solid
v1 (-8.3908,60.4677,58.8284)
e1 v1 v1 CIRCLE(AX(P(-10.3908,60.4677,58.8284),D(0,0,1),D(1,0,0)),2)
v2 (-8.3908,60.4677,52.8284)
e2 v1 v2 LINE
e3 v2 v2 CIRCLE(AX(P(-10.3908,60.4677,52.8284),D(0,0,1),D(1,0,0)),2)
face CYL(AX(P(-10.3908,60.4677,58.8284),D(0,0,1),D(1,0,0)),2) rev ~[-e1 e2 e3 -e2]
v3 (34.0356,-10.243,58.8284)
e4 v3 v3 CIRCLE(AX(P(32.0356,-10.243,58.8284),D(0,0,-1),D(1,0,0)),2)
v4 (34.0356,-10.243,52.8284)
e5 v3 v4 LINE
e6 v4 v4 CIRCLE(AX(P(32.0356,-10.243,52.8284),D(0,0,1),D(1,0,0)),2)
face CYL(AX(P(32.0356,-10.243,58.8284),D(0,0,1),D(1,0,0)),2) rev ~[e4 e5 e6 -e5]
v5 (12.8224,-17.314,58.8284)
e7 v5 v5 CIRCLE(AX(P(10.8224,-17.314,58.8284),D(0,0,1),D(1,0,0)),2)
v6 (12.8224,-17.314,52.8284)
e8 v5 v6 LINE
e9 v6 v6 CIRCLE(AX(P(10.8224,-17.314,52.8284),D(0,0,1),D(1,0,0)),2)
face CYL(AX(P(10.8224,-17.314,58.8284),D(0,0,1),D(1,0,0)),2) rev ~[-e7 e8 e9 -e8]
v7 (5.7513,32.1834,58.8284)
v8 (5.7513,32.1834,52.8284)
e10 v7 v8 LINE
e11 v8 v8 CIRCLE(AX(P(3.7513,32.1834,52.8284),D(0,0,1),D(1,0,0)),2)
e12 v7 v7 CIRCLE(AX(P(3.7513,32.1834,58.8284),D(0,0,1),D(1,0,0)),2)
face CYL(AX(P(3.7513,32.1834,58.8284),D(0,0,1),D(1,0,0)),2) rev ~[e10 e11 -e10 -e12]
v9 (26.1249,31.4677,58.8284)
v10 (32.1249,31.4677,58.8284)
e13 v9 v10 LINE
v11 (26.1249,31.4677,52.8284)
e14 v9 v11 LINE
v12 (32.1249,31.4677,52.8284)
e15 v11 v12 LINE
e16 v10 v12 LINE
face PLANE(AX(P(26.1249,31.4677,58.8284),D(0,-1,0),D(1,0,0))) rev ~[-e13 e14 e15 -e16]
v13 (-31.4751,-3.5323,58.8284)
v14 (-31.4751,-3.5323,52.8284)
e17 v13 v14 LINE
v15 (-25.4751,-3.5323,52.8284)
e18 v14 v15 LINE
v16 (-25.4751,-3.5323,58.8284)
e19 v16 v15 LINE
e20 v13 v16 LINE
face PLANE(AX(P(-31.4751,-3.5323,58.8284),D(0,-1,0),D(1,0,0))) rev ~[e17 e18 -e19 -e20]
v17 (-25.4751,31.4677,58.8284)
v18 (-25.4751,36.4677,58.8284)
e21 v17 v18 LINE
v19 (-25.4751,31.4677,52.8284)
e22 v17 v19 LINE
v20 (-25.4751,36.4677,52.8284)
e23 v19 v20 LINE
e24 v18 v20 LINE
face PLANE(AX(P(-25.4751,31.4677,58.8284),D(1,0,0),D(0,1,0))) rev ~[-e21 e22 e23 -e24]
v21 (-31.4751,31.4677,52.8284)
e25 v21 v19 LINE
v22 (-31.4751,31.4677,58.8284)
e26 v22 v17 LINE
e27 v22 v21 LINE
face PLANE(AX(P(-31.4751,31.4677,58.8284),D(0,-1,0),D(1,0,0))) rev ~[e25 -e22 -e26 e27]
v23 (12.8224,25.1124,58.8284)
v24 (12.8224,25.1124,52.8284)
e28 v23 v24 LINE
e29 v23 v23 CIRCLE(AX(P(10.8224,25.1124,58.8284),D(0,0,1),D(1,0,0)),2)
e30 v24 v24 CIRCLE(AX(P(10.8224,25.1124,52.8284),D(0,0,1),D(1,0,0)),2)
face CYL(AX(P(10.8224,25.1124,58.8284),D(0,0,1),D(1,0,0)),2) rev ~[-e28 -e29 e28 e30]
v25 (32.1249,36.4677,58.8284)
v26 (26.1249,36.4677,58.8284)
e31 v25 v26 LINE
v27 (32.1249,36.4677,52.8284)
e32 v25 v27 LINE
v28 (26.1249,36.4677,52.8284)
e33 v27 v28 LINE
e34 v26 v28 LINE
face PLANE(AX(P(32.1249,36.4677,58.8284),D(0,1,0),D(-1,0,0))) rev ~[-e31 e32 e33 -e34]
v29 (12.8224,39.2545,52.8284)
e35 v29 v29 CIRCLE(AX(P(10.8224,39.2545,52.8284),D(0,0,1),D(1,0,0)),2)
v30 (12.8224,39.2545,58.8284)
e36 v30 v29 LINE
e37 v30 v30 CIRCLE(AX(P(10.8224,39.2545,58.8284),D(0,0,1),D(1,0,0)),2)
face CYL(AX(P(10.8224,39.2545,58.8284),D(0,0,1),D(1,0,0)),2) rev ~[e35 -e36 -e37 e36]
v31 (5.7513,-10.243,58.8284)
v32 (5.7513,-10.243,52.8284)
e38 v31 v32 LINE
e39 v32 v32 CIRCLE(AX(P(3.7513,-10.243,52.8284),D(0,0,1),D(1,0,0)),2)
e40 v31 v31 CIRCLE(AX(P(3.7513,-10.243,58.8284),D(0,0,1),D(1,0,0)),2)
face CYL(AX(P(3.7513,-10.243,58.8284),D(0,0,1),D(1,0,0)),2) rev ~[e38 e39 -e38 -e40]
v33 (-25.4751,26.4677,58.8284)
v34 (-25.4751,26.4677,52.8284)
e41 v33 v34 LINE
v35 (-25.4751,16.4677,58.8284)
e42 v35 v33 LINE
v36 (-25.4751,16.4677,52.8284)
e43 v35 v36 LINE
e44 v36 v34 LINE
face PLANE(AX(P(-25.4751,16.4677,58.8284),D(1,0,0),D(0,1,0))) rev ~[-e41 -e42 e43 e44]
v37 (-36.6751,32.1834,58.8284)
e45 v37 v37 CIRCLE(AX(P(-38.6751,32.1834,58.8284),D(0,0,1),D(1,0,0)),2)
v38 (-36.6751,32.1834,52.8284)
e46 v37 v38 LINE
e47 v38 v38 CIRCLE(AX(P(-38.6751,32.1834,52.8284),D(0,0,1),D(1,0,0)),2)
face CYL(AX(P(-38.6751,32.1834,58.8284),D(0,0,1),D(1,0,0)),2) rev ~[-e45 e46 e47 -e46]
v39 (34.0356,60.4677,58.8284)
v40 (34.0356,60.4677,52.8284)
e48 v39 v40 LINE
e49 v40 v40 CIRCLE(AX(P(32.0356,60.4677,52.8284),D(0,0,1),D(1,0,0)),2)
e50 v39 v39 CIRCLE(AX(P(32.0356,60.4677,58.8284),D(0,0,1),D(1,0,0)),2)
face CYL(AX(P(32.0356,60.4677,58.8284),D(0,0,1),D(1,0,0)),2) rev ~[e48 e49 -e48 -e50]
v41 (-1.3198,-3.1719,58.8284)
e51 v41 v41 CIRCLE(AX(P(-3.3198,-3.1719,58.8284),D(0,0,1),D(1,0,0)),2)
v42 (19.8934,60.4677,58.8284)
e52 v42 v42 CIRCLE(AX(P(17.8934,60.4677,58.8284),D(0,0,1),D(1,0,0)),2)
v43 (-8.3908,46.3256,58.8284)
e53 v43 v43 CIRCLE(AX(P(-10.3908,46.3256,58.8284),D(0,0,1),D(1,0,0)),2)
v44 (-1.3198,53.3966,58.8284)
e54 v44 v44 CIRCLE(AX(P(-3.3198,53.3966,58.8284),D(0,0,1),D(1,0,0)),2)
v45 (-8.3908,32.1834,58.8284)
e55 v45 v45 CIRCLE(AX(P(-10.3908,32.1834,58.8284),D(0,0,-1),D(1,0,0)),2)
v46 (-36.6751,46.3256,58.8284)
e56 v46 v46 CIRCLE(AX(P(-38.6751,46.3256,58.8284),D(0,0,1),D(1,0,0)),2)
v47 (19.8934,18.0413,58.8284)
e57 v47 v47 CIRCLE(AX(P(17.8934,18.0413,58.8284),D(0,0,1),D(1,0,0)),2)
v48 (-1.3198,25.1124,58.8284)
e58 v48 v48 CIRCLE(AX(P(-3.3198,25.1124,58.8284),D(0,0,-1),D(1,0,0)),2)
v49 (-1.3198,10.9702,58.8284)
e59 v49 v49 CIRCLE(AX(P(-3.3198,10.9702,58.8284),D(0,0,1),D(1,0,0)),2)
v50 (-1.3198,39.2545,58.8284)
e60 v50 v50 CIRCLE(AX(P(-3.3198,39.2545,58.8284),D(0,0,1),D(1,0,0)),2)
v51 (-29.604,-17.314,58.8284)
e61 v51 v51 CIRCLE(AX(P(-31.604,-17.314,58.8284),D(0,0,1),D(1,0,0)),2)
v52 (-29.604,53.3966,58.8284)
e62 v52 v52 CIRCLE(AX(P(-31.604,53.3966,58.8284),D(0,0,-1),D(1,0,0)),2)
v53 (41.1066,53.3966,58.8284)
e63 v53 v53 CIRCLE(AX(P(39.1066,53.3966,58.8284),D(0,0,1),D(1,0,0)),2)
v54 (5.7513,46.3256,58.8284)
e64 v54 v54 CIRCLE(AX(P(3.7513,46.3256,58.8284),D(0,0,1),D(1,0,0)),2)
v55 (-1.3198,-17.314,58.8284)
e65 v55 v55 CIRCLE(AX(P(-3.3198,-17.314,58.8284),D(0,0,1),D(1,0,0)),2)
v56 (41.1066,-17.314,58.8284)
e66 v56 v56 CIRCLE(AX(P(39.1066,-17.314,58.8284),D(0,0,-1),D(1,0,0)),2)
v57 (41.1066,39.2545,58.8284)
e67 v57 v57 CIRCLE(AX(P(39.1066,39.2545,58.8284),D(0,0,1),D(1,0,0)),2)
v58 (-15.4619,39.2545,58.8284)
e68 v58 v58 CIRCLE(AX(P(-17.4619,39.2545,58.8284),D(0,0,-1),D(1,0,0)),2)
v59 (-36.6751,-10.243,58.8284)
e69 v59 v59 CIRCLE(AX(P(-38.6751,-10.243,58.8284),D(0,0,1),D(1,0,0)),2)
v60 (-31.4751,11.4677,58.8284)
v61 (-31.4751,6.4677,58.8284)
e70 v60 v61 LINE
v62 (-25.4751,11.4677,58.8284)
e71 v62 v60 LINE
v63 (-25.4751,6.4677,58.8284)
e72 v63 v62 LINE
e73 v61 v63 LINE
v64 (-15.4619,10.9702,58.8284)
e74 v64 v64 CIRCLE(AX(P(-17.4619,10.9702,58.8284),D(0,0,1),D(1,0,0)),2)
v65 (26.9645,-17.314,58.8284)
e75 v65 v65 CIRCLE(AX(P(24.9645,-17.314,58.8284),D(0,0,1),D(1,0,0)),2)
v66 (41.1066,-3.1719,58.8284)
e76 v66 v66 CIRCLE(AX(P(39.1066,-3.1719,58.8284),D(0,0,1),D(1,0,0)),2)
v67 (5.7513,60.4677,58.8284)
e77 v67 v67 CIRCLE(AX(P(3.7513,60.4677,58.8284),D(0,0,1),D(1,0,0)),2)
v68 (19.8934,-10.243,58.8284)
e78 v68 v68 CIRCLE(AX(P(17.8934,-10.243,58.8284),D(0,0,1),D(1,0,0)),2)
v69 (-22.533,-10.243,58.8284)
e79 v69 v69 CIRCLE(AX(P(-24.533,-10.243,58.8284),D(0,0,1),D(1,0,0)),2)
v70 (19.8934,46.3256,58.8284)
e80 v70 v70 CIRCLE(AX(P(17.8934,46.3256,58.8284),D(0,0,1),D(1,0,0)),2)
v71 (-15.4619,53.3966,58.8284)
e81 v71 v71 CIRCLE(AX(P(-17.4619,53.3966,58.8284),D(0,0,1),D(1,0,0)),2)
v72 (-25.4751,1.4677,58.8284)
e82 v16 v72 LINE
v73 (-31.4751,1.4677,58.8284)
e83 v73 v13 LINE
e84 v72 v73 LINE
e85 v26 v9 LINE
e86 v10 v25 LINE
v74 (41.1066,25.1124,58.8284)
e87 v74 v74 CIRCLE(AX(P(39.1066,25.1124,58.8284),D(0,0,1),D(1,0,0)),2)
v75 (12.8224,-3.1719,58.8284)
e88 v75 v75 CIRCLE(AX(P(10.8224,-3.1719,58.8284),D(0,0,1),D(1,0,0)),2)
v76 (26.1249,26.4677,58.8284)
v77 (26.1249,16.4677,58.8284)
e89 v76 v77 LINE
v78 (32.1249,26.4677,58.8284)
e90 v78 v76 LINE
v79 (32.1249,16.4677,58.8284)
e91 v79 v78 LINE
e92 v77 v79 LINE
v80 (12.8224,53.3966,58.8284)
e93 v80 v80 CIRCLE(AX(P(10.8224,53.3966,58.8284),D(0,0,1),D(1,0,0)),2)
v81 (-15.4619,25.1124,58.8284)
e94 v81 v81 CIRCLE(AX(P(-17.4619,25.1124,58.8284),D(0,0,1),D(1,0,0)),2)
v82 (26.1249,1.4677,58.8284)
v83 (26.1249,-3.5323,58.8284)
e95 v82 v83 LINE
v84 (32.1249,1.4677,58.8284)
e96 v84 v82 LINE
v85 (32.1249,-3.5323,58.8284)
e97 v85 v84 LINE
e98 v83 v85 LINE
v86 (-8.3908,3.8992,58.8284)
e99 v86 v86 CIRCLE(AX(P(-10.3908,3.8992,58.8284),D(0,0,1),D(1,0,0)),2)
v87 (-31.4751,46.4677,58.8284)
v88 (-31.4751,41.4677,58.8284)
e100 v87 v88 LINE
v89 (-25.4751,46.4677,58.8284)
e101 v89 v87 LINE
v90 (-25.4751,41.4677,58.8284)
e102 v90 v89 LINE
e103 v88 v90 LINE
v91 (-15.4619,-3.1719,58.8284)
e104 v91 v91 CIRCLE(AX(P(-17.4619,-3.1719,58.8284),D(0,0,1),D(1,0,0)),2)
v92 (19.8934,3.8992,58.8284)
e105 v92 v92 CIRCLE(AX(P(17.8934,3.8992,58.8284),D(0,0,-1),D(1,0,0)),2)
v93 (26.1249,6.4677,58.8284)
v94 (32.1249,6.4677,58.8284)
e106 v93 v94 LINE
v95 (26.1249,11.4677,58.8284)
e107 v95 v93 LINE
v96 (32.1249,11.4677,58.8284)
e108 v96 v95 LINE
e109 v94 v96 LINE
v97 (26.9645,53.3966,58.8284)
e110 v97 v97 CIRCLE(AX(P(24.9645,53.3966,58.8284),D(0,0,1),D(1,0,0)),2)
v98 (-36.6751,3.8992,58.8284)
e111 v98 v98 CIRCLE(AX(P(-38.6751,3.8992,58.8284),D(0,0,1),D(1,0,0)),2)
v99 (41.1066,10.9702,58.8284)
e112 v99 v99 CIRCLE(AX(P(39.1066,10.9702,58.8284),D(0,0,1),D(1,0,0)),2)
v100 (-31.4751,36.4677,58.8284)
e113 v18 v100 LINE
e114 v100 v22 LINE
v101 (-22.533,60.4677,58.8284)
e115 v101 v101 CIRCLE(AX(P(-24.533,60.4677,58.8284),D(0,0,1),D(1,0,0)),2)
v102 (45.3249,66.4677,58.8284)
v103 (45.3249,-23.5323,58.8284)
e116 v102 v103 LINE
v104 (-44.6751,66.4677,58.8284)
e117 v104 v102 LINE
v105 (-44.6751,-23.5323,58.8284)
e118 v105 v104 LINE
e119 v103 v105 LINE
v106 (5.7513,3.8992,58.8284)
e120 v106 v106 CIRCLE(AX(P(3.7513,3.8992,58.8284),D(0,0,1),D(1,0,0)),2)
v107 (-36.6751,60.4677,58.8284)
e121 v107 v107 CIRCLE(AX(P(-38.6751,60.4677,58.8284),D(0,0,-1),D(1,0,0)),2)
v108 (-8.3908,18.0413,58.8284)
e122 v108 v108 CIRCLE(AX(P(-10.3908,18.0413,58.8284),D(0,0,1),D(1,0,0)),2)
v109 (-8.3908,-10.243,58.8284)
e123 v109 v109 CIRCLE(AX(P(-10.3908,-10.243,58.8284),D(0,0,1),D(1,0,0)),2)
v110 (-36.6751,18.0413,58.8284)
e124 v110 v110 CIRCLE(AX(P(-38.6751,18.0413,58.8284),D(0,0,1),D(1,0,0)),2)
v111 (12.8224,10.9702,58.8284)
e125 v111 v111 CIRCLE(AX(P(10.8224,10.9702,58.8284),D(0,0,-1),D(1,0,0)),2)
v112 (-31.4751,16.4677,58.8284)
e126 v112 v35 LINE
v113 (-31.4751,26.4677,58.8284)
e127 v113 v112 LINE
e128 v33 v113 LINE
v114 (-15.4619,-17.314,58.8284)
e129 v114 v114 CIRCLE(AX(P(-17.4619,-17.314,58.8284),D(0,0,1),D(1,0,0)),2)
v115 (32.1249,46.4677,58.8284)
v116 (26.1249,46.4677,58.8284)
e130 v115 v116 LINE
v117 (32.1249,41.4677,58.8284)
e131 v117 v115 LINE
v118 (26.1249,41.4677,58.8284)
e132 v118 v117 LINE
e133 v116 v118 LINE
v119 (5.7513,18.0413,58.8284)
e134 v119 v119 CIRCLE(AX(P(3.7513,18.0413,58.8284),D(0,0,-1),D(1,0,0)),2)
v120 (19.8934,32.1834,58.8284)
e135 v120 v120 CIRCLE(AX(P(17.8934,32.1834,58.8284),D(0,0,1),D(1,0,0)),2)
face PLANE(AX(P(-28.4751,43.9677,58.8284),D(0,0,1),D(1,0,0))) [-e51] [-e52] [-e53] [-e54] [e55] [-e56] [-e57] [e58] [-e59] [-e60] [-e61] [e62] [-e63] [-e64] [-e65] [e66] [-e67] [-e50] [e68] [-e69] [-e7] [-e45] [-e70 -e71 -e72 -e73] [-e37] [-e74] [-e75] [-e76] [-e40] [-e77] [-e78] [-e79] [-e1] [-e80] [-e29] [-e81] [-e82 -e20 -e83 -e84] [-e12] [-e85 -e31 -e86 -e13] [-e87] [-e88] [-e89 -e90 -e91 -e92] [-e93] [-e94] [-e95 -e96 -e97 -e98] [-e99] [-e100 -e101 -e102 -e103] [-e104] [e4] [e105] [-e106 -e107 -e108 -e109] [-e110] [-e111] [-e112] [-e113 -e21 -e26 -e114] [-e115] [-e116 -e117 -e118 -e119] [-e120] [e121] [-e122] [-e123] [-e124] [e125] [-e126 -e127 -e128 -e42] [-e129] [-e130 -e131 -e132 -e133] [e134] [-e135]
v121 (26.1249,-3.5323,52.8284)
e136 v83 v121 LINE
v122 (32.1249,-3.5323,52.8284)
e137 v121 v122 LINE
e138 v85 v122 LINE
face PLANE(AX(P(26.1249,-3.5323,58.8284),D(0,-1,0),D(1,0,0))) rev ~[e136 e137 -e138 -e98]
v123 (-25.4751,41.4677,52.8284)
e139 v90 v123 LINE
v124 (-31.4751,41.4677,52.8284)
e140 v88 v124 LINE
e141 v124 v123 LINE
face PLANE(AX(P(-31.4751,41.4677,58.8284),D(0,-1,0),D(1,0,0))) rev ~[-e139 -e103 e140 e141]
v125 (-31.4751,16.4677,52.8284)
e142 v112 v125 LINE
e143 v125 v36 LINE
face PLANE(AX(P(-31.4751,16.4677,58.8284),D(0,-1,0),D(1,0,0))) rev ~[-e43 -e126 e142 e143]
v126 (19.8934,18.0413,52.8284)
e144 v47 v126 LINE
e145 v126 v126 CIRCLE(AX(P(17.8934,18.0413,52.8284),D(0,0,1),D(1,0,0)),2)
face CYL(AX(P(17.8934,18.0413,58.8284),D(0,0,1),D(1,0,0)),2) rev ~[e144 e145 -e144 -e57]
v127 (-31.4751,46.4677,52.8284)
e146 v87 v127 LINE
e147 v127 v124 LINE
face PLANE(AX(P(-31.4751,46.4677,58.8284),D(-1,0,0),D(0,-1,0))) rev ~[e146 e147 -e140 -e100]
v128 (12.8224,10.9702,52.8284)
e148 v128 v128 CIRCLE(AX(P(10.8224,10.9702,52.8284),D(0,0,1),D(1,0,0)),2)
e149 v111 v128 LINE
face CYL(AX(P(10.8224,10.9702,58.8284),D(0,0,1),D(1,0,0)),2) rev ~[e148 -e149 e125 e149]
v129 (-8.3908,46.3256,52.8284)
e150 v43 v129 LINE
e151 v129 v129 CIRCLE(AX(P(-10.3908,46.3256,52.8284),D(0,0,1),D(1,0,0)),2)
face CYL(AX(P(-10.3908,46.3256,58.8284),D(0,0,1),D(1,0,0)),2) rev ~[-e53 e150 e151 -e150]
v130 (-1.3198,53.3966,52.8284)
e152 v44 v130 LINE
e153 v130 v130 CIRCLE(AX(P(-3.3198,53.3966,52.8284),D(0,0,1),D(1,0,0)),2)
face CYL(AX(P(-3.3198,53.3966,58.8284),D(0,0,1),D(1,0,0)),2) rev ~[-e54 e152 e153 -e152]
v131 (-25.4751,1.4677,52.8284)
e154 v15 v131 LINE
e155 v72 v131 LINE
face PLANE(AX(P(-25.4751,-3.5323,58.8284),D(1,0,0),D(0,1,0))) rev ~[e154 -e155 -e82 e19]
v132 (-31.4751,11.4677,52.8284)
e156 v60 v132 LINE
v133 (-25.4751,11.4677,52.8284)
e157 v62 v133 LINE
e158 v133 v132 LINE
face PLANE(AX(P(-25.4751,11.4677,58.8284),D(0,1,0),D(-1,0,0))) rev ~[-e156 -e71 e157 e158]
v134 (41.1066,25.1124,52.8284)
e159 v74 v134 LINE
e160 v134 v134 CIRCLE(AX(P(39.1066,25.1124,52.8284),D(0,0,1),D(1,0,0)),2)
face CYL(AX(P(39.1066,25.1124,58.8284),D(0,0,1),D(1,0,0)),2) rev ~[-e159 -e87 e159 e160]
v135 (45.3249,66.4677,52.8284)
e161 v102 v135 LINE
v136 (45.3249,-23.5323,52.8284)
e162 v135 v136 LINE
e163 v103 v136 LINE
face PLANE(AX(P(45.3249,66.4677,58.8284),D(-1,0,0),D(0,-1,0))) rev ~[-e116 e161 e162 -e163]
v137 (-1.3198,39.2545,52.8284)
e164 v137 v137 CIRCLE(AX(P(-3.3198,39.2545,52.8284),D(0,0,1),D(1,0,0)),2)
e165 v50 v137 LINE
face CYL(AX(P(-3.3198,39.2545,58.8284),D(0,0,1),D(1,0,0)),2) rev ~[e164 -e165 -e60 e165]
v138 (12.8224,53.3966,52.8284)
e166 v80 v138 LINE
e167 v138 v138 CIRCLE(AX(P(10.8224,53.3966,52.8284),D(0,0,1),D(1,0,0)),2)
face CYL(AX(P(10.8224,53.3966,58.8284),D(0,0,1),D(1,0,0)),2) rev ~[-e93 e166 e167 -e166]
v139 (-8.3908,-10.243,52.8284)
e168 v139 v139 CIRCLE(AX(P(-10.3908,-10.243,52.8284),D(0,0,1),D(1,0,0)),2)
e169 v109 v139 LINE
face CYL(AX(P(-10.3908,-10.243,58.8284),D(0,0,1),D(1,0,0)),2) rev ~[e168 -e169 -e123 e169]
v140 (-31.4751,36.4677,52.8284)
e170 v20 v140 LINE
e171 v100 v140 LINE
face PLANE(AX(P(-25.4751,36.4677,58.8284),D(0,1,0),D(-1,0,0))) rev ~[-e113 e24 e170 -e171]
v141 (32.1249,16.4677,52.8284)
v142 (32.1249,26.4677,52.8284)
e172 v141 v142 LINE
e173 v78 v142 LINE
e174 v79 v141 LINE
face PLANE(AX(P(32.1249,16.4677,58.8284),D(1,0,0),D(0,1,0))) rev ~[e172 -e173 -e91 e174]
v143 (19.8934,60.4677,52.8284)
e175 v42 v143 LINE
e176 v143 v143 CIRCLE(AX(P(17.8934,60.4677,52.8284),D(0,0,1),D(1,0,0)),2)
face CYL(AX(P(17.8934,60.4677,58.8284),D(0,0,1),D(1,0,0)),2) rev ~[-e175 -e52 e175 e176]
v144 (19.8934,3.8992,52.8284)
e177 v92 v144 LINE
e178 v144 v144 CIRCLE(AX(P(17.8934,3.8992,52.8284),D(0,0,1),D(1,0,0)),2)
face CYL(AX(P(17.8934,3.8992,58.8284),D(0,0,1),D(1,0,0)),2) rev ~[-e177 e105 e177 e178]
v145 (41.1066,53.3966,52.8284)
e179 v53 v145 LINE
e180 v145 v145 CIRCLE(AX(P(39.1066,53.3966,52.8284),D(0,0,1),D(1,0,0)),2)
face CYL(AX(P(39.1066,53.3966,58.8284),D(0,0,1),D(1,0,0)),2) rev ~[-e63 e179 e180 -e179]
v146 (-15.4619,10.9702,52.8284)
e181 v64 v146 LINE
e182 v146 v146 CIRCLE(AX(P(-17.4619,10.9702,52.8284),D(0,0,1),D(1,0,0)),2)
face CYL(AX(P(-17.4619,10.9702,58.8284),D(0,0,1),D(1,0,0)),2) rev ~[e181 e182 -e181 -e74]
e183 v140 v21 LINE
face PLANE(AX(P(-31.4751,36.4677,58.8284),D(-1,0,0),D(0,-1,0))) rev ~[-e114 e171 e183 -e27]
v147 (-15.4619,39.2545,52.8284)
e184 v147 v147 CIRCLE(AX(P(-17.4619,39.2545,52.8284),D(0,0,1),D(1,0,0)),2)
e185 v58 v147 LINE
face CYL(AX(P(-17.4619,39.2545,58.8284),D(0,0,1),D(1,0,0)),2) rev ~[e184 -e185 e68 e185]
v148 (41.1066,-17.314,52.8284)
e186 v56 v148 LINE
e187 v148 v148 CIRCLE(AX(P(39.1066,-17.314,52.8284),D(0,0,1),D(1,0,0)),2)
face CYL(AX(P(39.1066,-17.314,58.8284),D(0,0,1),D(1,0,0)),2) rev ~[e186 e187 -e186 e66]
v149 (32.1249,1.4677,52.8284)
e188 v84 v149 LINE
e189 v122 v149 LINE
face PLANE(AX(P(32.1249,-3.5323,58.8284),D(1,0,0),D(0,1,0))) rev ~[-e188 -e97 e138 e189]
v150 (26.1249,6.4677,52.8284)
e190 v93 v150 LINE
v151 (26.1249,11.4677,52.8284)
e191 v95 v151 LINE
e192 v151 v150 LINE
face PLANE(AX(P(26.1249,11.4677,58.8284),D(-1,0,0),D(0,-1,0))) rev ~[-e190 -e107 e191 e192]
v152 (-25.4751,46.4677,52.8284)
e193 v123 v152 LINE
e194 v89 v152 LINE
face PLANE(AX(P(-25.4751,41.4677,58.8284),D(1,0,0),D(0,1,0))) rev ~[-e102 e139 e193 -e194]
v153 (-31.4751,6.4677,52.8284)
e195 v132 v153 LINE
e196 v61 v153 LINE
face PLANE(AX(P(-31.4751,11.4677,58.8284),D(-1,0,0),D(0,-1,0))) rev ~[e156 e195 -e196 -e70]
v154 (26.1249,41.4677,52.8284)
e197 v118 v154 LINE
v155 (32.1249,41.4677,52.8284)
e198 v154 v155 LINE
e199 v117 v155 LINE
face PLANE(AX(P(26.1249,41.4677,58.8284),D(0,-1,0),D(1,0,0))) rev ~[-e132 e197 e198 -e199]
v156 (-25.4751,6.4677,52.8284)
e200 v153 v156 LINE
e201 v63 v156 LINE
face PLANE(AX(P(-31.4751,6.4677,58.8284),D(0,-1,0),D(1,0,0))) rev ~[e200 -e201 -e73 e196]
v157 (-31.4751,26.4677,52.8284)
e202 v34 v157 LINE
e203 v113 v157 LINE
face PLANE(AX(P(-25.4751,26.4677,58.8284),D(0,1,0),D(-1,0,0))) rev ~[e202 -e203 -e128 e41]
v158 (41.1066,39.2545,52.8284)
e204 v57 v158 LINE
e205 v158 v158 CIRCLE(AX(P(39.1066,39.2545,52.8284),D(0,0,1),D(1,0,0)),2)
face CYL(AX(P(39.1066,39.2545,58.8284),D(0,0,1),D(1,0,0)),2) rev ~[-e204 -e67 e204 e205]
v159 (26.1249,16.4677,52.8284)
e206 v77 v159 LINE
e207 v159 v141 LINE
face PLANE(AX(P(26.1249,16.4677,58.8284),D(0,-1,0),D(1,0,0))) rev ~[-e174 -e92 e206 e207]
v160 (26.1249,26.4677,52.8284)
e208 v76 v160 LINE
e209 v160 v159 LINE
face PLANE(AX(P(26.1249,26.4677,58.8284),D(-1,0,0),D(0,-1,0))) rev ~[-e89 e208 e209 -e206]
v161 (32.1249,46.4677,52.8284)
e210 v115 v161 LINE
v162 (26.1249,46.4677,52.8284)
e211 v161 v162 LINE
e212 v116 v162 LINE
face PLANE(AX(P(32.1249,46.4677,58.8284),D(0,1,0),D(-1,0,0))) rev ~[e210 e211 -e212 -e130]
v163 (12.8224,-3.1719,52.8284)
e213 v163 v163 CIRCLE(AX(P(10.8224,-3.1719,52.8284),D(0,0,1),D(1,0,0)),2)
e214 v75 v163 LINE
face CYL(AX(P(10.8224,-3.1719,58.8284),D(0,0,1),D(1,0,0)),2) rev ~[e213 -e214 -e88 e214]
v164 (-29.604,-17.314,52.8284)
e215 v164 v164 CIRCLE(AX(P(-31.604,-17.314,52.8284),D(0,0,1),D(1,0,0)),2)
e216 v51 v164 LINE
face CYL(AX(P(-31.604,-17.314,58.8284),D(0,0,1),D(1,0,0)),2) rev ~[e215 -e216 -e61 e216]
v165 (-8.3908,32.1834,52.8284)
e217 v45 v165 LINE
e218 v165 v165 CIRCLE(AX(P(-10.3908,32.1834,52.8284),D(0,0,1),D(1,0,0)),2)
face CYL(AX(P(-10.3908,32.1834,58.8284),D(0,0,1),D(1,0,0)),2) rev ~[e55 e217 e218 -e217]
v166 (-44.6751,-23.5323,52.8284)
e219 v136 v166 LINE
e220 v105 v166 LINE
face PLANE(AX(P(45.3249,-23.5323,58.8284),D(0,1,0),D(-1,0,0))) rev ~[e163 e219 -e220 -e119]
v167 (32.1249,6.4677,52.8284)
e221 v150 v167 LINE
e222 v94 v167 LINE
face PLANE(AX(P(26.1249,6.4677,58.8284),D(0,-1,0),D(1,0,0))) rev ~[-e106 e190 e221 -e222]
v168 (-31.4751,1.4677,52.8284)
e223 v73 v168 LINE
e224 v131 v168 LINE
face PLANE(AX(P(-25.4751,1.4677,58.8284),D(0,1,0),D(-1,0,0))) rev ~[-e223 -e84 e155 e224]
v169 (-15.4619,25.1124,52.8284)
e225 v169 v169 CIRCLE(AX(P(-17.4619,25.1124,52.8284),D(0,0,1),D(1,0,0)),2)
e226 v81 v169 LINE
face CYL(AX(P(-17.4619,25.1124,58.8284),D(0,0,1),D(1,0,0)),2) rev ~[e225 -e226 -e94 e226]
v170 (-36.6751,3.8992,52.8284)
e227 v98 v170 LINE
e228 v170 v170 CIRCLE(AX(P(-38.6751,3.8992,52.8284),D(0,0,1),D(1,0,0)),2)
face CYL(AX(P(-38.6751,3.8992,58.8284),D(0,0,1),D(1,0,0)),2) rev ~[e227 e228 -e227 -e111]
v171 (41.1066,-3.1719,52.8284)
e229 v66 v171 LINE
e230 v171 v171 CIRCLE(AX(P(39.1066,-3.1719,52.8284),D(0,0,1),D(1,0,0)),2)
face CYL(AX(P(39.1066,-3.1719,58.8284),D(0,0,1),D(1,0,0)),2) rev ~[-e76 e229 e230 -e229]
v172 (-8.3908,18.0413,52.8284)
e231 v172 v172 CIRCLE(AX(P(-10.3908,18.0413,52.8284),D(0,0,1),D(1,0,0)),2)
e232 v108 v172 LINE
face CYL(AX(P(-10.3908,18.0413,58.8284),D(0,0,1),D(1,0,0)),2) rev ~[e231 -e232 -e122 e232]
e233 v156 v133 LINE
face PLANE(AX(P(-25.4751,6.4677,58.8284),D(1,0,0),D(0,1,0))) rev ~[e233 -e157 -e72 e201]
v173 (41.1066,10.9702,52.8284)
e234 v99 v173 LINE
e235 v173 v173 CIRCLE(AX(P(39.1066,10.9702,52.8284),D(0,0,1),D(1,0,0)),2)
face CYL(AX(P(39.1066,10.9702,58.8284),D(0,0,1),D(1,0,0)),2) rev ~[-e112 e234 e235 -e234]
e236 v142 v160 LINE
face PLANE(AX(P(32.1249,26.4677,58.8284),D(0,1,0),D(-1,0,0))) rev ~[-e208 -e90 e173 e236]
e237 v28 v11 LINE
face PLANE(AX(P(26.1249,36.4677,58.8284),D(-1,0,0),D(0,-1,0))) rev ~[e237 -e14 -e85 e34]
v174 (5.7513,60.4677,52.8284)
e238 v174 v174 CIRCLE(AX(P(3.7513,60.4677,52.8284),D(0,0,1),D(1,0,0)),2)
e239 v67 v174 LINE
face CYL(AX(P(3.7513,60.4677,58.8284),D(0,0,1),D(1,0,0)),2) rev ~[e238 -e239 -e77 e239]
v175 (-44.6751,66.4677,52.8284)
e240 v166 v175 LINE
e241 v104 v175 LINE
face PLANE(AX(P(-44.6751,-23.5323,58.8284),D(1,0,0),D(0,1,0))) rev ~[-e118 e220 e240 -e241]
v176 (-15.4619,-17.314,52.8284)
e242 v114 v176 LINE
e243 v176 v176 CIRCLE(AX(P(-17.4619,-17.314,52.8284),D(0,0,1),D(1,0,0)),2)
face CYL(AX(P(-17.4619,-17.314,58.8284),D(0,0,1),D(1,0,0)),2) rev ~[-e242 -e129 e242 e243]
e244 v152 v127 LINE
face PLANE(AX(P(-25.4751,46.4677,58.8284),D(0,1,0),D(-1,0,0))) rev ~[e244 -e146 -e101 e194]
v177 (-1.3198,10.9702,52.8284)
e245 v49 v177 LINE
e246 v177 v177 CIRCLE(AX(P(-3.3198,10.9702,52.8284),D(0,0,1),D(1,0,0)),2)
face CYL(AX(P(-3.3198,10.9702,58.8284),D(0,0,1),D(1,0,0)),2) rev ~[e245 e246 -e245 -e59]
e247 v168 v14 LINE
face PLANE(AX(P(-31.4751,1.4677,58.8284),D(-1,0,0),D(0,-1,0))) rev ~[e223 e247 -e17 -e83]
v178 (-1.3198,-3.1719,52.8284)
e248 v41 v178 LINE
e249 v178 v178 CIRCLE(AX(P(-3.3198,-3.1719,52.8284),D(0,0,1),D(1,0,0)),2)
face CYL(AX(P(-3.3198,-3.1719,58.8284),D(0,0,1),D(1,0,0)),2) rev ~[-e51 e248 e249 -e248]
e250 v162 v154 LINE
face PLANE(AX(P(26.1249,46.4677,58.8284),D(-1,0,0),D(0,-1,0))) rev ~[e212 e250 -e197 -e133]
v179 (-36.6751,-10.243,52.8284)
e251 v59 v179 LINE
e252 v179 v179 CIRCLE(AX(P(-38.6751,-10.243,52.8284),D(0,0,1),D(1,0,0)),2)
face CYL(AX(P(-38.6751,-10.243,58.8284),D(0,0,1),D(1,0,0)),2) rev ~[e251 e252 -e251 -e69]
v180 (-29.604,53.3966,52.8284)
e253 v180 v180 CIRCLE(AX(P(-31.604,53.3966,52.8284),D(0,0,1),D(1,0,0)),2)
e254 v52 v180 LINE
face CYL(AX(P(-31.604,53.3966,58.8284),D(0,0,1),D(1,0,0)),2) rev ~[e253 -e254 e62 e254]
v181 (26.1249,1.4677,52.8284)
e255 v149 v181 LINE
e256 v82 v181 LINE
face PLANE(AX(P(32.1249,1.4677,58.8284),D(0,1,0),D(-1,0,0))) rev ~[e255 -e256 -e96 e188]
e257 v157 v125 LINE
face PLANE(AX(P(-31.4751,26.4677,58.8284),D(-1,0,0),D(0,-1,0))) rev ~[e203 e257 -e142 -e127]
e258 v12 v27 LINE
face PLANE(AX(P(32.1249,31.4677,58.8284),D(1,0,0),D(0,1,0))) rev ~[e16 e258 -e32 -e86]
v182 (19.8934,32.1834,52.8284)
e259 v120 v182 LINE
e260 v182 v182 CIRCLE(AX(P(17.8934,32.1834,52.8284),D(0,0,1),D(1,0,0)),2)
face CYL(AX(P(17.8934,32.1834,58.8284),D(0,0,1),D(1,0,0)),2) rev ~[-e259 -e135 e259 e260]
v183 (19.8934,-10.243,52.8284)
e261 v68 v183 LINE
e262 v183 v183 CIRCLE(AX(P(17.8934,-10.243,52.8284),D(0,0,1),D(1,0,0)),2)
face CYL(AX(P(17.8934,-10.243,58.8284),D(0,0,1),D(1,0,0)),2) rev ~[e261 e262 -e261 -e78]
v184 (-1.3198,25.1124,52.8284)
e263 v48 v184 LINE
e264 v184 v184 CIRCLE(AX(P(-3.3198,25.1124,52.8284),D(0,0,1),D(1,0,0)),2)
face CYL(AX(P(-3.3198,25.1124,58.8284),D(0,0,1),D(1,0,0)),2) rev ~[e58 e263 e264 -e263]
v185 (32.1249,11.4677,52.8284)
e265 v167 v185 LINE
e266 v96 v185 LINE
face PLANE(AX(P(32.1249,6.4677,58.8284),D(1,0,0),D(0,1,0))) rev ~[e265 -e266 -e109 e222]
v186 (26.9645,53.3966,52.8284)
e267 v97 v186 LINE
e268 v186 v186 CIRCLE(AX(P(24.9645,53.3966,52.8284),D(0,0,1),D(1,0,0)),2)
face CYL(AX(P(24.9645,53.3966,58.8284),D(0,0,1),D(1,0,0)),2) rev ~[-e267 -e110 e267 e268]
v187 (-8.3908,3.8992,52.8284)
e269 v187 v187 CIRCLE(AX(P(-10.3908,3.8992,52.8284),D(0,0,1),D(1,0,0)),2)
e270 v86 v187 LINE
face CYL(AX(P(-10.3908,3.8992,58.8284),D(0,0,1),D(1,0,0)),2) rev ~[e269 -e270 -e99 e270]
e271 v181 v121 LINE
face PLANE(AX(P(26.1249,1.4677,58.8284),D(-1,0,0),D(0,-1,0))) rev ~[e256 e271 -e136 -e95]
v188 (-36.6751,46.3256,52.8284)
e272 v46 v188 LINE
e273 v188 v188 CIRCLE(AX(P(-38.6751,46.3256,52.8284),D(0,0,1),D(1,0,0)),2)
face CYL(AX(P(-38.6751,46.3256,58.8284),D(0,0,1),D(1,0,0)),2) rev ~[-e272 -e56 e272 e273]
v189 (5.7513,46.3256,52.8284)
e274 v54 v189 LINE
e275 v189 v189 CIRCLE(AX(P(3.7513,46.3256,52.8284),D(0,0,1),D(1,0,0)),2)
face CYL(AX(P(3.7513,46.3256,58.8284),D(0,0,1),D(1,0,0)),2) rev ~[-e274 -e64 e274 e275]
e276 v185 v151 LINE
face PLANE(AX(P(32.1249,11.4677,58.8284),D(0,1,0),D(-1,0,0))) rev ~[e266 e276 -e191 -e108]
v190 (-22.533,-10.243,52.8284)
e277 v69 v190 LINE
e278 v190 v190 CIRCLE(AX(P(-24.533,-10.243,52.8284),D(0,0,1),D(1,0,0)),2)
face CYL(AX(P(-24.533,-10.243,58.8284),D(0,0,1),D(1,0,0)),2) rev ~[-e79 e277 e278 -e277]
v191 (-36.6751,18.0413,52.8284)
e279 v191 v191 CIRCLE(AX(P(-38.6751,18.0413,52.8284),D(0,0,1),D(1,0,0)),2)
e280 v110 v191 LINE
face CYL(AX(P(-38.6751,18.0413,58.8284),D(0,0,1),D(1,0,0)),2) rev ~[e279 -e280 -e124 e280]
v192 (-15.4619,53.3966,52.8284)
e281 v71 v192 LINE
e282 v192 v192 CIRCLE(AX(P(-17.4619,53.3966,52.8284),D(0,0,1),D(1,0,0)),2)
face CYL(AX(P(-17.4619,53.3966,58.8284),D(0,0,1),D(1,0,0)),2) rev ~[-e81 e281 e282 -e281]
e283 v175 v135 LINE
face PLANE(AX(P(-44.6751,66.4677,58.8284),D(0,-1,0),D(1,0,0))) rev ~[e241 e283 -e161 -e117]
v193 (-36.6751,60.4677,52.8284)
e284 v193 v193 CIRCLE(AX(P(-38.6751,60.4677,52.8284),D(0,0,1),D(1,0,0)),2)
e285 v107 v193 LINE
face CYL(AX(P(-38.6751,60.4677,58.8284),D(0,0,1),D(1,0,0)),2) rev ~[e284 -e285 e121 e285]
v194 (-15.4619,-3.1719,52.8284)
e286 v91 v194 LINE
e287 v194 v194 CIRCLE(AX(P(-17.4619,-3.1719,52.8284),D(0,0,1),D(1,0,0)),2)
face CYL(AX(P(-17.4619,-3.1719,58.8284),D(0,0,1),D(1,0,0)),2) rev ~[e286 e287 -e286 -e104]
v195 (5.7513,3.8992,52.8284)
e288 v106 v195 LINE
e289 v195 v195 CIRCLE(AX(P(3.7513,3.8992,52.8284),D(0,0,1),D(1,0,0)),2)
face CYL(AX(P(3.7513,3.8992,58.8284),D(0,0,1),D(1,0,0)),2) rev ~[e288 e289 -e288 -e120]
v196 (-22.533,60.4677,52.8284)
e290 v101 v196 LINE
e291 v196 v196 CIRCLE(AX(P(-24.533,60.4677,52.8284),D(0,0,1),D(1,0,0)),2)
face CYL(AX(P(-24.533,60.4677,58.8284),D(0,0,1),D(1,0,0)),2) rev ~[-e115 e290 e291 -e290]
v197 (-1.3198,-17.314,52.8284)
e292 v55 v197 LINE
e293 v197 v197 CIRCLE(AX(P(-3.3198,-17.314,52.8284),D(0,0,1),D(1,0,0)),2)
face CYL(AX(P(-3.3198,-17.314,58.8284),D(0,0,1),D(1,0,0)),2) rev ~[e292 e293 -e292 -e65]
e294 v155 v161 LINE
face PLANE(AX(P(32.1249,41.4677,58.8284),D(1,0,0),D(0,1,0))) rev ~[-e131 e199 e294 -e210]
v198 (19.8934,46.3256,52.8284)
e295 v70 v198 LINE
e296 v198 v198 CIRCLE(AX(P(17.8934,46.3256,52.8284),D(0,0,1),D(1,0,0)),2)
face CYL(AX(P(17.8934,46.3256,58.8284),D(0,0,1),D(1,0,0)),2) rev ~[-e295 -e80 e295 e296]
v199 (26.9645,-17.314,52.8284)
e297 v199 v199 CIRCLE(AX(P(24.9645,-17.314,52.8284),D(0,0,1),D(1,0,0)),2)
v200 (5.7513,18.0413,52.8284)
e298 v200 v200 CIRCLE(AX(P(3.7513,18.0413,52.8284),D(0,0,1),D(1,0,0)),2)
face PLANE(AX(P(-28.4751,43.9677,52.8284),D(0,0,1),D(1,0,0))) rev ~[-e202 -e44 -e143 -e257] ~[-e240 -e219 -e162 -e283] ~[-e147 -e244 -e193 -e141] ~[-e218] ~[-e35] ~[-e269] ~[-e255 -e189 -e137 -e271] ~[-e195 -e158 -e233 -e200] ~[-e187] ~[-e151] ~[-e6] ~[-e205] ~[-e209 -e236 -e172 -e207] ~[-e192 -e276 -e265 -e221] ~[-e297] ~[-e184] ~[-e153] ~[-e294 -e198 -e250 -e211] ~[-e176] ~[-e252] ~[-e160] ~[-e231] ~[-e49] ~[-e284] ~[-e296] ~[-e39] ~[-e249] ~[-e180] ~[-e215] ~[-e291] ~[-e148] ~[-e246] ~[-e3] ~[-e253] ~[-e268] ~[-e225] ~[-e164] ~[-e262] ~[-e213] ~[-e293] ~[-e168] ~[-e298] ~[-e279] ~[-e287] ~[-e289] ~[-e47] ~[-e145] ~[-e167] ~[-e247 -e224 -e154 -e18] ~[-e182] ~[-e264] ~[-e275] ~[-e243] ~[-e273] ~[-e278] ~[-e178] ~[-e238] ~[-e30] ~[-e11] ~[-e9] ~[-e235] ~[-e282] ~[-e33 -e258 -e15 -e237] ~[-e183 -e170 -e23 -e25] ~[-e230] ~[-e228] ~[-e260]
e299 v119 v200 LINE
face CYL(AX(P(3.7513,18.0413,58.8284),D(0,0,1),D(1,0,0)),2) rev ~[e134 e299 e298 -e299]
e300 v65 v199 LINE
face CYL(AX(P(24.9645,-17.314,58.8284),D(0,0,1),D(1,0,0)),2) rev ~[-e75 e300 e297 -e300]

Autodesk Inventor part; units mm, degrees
ref_plane "YZ Plane" through (0, 0, 0) normal (1, 0, 0) x (0, 1, 0)
ref_plane "XZ Plane" through (0, 0, 0) normal (0, 1, 0) x (-1, 0, 0)
ref_plane "XY Plane" through (0, 0, 0) normal (0, 0, 1) x (1, 0, 0)
ref_plane "Work Plane1" through (-28.4751, 43.9677, 58.8284) normal (0, 0, 1) x (1, 0, 0)
sketch "Sketch1" plane through (-28.4751, 43.9677, 58.8284) normal (0, 0, 1) x (1, 0, 0)
  line L0 (-16.2, 22.5) -> (73.8, 22.5)
  line L1 (73.8, 22.5) -> (73.8, -67.5)
  line L2 (73.8, -67.5) -> (-16.2, -67.5)
  line L3 (-16.2, -67.5) -> (-16.2, 22.5)
  line L4 (-3, -2.5) -> (3, -2.5) projected
  line L5 (3, -2.5) -> (3, 2.5) projected
  line L6 (3, 2.5) -> (-3, 2.5) projected
  line L7 (-3, 2.5) -> (-3, -2.5) projected
  line L8 (-3, -12.5) -> (3, -12.5) projected
  line L9 (3, -12.5) -> (3, -7.5) projected
  line L10 (3, -7.5) -> (-3, -7.5) projected
  line L11 (-3, -7.5) -> (-3, -12.5) projected
  line L12 (-3, -27.5) -> (3, -27.5) projected
  line L13 (3, -27.5) -> (3, -17.5) projected
  line L14 (3, -17.5) -> (-3, -17.5) projected
  line L15 (-3, -17.5) -> (-3, -27.5) projected
  line L16 (-3, -37.5) -> (3, -37.5) projected
  line L17 (3, -37.5) -> (3, -32.5) projected
  line L18 (3, -32.5) -> (-3, -32.5) projected
  line L19 (-3, -32.5) -> (-3, -37.5) projected
  line L20 (-3, -47.5) -> (3, -47.5) projected
  line L21 (3, -47.5) -> (3, -42.5) projected
  line L22 (3, -42.5) -> (-3, -42.5) projected
  line L23 (-3, -42.5) -> (-3, -47.5) projected
  line L24 (54.6, -47.5) -> (60.6, -47.5) projected
  line L25 (60.6, -47.5) -> (60.6, -42.5) projected
  line L26 (60.6, -42.5) -> (54.6, -42.5) projected
  line L27 (54.6, -42.5) -> (54.6, -47.5) projected
  line L28 (54.6, -32.5) -> (54.6, -37.5) projected
  line L29 (54.6, -37.5) -> (60.6, -37.5) projected
  line L30 (60.6, -37.5) -> (60.6, -32.5) projected
  line L31 (60.6, -32.5) -> (54.6, -32.5) projected
  line L32 (54.6, -32.5) -> (54.6, -37.5) projected
  line L33 (54.6, -27.5) -> (60.6, -27.5) projected
  line L34 (60.6, -27.5) -> (60.6, -17.5) projected
  line L35 (60.6, -17.5) -> (54.6, -17.5) projected
  line L36 (54.6, -17.5) -> (54.6, -27.5) projected
  line L37 (54.6, -12.5) -> (60.6, -12.5) projected
  line L38 (60.6, -12.5) -> (60.6, -7.5) projected
  line L39 (60.6, -7.5) -> (54.6, -7.5) projected
  line L40 (54.6, -7.5) -> (54.6, -12.5) projected
  line L41 (54.6, -2.5) -> (60.6, -2.5) projected
  line L42 (60.6, -2.5) -> (60.6, 2.5) projected
  line L43 (60.6, 2.5) -> (54.6, 2.5) projected
  line L44 (54.6, 2.5) -> (54.6, -2.5) projected
  point P0 (28.4751, -43.9677)
  point P1 (0, 2.5)
  point P2 (-3, 0)
  dimension "d0" = 90
  dimension "d1" = 90
  dimension "d2" = 20
  dimension "d3" = 13.2
extrude "Extrusion1" add sketch "Sketch1" against normal blind 6
sketch "Sketch2" plane through (-28.4751, 43.9677, 58.8284) normal (0, 0, 1) x (1, 0, 0)
  circle A0 centre (-10.2, 16.5) radius 2
  line L0 (73.8, 22.5) -> (-16.2, 22.5) projected
  line L1 (-16.2, 22.5) -> (-16.2, -67.5) projected
  line L2 (-16.2, 22.5) -> (73.8, -67.5)
  line L3 (73.8, 22.5) -> (-16.2, -67.5)
  circle A1 centre (-3.1289, 9.4289) radius 2
  circle A2 centre (3.9421, 2.3579) radius 2
  circle A3 centre (11.0132, -4.7132) radius 2
  circle A4 centre (18.0843, -11.7843) radius 2
  circle A5 centre (25.1553, -18.8553) radius 2
  circle A6 centre (32.2264, -25.9264) radius 2
  circle A7 centre (39.2975, -32.9975) radius 2
  circle A8 centre (46.3685, -40.0685) radius 2
  circle A9 centre (53.4396, -47.1396) radius 2
  circle A10 centre (60.5107, -54.2107) radius 2
  circle A11 centre (67.5817, -61.2817) radius 2
  circle A12 centre (-17.2711, 9.4289) radius 2
  circle A13 centre (-10.2, 2.3579) radius 2
  circle A14 centre (-3.1289, -4.7132) radius 2
  circle A15 centre (3.9421, -11.7843) radius 2
  circle A16 centre (11.0132, -18.8553) radius 2
  circle A17 centre (18.0843, -25.9264) radius 2
  circle A18 centre (25.1553, -32.9975) radius 2
  circle A19 centre (32.2264, -40.0685) radius 2
  circle A20 centre (39.2975, -47.1396) radius 2
  circle A21 centre (46.3685, -54.2107) radius 2
  circle A22 centre (53.4396, -61.2817) radius 2
  circle A23 centre (60.5107, -68.3528) radius 2
  circle A24 centre (-3.1289, 23.5711) radius 2
  circle A25 centre (3.9421, 16.5) radius 2
  circle A26 centre (11.0132, 9.4289) radius 2
  circle A27 centre (18.0843, 2.3579) radius 2
  circle A28 centre (25.1553, -4.7132) radius 2
  circle A29 centre (32.2264, -11.7843) radius 2
  circle A30 centre (39.2975, -18.8553) radius 2
  circle A31 centre (46.3685, -25.9264) radius 2
  circle A32 centre (53.4396, -32.9975) radius 2
  circle A33 centre (60.5107, -40.0685) radius 2
  circle A34 centre (67.5817, -47.1396) radius 2
  circle A35 centre (74.6528, -54.2107) radius 2
  circle A36 centre (-24.3421, 2.3579) radius 2
  circle A37 centre (-17.2711, -4.7132) radius 2
  circle A38 centre (-10.2, -11.7843) radius 2
  circle A39 centre (-3.1289, -18.8553) radius 2
  circle A40 centre (3.9421, -25.9264) radius 2
  circle A41 centre (11.0132, -32.9975) radius 2
  circle A42 centre (18.0843, -40.0685) radius 2
  circle A43 centre (25.1553, -47.1396) radius 2
  circle A44 centre (32.2264, -54.2107) radius 2
  circle A45 centre (39.2975, -61.2817) radius 2
  circle A46 centre (46.3685, -68.3528) radius 2
  circle A47 centre (53.4396, -75.4239) radius 2
  circle A48 centre (3.9421, 30.6421) radius 2
  circle A49 centre (11.0132, 23.5711) radius 2
  circle A50 centre (18.0843, 16.5) radius 2
  circle A51 centre (25.1553, 9.4289) radius 2
  circle A52 centre (32.2264, 2.3579) radius 2
  circle A53 centre (39.2975, -4.7132) radius 2
  circle A54 centre (46.3685, -11.7843) radius 2
  circle A55 centre (53.4396, -18.8553) radius 2
  circle A56 centre (60.5107, -25.9264) radius 2
  circle A57 centre (67.5817, -32.9975) radius 2
  circle A58 centre (74.6528, -40.0685) radius 2
  circle A59 centre (81.7239, -47.1396) radius 2
  circle A60 centre (-31.4132, -4.7132) radius 2
  circle A61 centre (-24.3421, -11.7843) radius 2
  circle A62 centre (-17.2711, -18.8553) radius 2
  circle A63 centre (-10.2, -25.9264) radius 2
  circle A64 centre (-3.1289, -32.9975) radius 2
  circle A65 centre (3.9421, -40.0685) radius 2
  circle A66 centre (11.0132, -47.1396) radius 2
  circle A67 centre (18.0843, -54.2107) radius 2
  circle A68 centre (25.1553, -61.2817) radius 2
  circle A69 centre (32.2264, -68.3528) radius 2
  circle A70 centre (39.2975, -75.4239) radius 2
  circle A71 centre (46.3685, -82.4949) radius 2
  circle A72 centre (11.0132, 37.7132) radius 2
  circle A73 centre (18.0843, 30.6421) radius 2
  circle A74 centre (25.1553, 23.5711) radius 2
  circle A75 centre (32.2264, 16.5) radius 2
  circle A76 centre (39.2975, 9.4289) radius 2
  circle A77 centre (46.3685, 2.3579) radius 2
  circle A78 centre (53.4396, -4.7132) radius 2
  circle A79 centre (60.5107, -11.7843) radius 2
  circle A80 centre (67.5817, -18.8553) radius 2
  circle A81 centre (74.6528, -25.9264) radius 2
  circle A82 centre (81.7239, -32.9975) radius 2
  circle A83 centre (88.7949, -40.0685) radius 2
  circle A84 centre (-38.4843, -11.7843) radius 2
  circle A85 centre (-31.4132, -18.8553) radius 2
  circle A86 centre (-24.3421, -25.9264) radius 2
  circle A87 centre (-17.2711, -32.9975) radius 2
  circle A88 centre (-10.2, -40.0685) radius 2
  circle A89 centre (-3.1289, -47.1396) radius 2
  circle A90 centre (3.9421, -54.2107) radius 2
  circle A91 centre (11.0132, -61.2817) radius 2
  circle A92 centre (18.0843, -68.3528) radius 2
  circle A93 centre (25.1553, -75.4239) radius 2
  circle A94 centre (32.2264, -82.4949) radius 2
  circle A95 centre (39.2975, -89.566) radius 2
  circle A96 centre (18.0843, 44.7843) radius 2
  circle A97 centre (25.1553, 37.7132) radius 2
  circle A98 centre (32.2264, 30.6421) radius 2
  circle A99 centre (39.2975, 23.5711) radius 2
  circle A100 centre (46.3685, 16.5) radius 2
  circle A101 centre (53.4396, 9.4289) radius 2
  circle A102 centre (60.5107, 2.3579) radius 2
  circle A103 centre (67.5817, -4.7132) radius 2
  circle A104 centre (74.6528, -11.7843) radius 2
  circle A105 centre (81.7239, -18.8553) radius 2
  circle A106 centre (88.7949, -25.9264) radius 2
  circle A107 centre (95.866, -32.9975) radius 2
  circle A108 centre (-45.5553, -18.8553) radius 2
  circle A109 centre (-38.4843, -25.9264) radius 2
  circle A110 centre (-31.4132, -32.9975) radius 2
  circle A111 centre (-24.3421, -40.0685) radius 2
  circle A112 centre (-17.2711, -47.1396) radius 2
  circle A113 centre (-10.2, -54.2107) radius 2
  circle A114 centre (-3.1289, -61.2817) radius 2
  circle A115 centre (3.9421, -68.3528) radius 2
  circle A116 centre (11.0132, -75.4239) radius 2
  circle A117 centre (18.0843, -82.4949) radius 2
  circle A118 centre (25.1553, -89.566) radius 2
  circle A119 centre (32.2264, -96.6371) radius 2
  circle A120 centre (25.1553, 51.8553) radius 2
  circle A121 centre (32.2264, 44.7843) radius 2
  circle A122 centre (39.2975, 37.7132) radius 2
  circle A123 centre (46.3685, 30.6421) radius 2
  circle A124 centre (53.4396, 23.5711) radius 2
  circle A125 centre (60.5107, 16.5) radius 2
  circle A126 centre (67.5817, 9.4289) radius 2
  circle A127 centre (74.6528, 2.3579) radius 2
  circle A128 centre (81.7239, -4.7132) radius 2
  circle A129 centre (88.7949, -11.7843) radius 2
  circle A130 centre (95.866, -18.8553) radius 2
  circle A131 centre (102.9371, -25.9264) radius 2
  circle A132 centre (-52.6264, -25.9264) radius 2
  circle A133 centre (-45.5553, -32.9975) radius 2
  circle A134 centre (-38.4843, -40.0685) radius 2
  circle A135 centre (-31.4132, -47.1396) radius 2
  circle A136 centre (-24.3421, -54.2107) radius 2
  circle A137 centre (-17.2711, -61.2817) radius 2
  circle A138 centre (-10.2, -68.3528) radius 2
  circle A139 centre (-3.1289, -75.4239) radius 2
  circle A140 centre (3.9421, -82.4949) radius 2
  circle A141 centre (11.0132, -89.566) radius 2
  circle A142 centre (18.0843, -96.6371) radius 2
  circle A143 centre (25.1553, -103.7082) radius 2
  point P0 (28.4751, -43.9677)
  dimension "d6" = 4
  dimension "d7" = 6
  dimension "d8" = 6
  dimension "d11" = 10
  dimension "d14" = 10
extrude "Extrusion2" cut sketch "Sketch2" against normal blind 6 contours A0 L2 | L2 A0 | A11 L2 | L2 A11 | A10 L2 | L2 A10 | A8 L2 | L2 A8 | A7 L2 | L2 A7 | A6 L2 | L2 A6 | A1 L2 | L2 A1 | A3 L2 | L2 A3 | A4 L2 | L2 A4 | A5 L2 | L2 A5 | A13 | A16 | A17 | A18 | A19 | A20 | A21 | A22 | A25 | A26 | A27 | A28 | A29 | A30 | A31 | A34 | A38 | A41 | A42 | A43 | A44 | A45 | A50 | A51 | A52 | A53 | A54 | A57 | A63 | A66 | A67 | A68 | A75 | A76 | A77 | A80 | A88 | A90 | A91 | A100 | A101 | A103 | A113 | A114 | A125 | A126
properties part number "ScrewPlateLarge"
